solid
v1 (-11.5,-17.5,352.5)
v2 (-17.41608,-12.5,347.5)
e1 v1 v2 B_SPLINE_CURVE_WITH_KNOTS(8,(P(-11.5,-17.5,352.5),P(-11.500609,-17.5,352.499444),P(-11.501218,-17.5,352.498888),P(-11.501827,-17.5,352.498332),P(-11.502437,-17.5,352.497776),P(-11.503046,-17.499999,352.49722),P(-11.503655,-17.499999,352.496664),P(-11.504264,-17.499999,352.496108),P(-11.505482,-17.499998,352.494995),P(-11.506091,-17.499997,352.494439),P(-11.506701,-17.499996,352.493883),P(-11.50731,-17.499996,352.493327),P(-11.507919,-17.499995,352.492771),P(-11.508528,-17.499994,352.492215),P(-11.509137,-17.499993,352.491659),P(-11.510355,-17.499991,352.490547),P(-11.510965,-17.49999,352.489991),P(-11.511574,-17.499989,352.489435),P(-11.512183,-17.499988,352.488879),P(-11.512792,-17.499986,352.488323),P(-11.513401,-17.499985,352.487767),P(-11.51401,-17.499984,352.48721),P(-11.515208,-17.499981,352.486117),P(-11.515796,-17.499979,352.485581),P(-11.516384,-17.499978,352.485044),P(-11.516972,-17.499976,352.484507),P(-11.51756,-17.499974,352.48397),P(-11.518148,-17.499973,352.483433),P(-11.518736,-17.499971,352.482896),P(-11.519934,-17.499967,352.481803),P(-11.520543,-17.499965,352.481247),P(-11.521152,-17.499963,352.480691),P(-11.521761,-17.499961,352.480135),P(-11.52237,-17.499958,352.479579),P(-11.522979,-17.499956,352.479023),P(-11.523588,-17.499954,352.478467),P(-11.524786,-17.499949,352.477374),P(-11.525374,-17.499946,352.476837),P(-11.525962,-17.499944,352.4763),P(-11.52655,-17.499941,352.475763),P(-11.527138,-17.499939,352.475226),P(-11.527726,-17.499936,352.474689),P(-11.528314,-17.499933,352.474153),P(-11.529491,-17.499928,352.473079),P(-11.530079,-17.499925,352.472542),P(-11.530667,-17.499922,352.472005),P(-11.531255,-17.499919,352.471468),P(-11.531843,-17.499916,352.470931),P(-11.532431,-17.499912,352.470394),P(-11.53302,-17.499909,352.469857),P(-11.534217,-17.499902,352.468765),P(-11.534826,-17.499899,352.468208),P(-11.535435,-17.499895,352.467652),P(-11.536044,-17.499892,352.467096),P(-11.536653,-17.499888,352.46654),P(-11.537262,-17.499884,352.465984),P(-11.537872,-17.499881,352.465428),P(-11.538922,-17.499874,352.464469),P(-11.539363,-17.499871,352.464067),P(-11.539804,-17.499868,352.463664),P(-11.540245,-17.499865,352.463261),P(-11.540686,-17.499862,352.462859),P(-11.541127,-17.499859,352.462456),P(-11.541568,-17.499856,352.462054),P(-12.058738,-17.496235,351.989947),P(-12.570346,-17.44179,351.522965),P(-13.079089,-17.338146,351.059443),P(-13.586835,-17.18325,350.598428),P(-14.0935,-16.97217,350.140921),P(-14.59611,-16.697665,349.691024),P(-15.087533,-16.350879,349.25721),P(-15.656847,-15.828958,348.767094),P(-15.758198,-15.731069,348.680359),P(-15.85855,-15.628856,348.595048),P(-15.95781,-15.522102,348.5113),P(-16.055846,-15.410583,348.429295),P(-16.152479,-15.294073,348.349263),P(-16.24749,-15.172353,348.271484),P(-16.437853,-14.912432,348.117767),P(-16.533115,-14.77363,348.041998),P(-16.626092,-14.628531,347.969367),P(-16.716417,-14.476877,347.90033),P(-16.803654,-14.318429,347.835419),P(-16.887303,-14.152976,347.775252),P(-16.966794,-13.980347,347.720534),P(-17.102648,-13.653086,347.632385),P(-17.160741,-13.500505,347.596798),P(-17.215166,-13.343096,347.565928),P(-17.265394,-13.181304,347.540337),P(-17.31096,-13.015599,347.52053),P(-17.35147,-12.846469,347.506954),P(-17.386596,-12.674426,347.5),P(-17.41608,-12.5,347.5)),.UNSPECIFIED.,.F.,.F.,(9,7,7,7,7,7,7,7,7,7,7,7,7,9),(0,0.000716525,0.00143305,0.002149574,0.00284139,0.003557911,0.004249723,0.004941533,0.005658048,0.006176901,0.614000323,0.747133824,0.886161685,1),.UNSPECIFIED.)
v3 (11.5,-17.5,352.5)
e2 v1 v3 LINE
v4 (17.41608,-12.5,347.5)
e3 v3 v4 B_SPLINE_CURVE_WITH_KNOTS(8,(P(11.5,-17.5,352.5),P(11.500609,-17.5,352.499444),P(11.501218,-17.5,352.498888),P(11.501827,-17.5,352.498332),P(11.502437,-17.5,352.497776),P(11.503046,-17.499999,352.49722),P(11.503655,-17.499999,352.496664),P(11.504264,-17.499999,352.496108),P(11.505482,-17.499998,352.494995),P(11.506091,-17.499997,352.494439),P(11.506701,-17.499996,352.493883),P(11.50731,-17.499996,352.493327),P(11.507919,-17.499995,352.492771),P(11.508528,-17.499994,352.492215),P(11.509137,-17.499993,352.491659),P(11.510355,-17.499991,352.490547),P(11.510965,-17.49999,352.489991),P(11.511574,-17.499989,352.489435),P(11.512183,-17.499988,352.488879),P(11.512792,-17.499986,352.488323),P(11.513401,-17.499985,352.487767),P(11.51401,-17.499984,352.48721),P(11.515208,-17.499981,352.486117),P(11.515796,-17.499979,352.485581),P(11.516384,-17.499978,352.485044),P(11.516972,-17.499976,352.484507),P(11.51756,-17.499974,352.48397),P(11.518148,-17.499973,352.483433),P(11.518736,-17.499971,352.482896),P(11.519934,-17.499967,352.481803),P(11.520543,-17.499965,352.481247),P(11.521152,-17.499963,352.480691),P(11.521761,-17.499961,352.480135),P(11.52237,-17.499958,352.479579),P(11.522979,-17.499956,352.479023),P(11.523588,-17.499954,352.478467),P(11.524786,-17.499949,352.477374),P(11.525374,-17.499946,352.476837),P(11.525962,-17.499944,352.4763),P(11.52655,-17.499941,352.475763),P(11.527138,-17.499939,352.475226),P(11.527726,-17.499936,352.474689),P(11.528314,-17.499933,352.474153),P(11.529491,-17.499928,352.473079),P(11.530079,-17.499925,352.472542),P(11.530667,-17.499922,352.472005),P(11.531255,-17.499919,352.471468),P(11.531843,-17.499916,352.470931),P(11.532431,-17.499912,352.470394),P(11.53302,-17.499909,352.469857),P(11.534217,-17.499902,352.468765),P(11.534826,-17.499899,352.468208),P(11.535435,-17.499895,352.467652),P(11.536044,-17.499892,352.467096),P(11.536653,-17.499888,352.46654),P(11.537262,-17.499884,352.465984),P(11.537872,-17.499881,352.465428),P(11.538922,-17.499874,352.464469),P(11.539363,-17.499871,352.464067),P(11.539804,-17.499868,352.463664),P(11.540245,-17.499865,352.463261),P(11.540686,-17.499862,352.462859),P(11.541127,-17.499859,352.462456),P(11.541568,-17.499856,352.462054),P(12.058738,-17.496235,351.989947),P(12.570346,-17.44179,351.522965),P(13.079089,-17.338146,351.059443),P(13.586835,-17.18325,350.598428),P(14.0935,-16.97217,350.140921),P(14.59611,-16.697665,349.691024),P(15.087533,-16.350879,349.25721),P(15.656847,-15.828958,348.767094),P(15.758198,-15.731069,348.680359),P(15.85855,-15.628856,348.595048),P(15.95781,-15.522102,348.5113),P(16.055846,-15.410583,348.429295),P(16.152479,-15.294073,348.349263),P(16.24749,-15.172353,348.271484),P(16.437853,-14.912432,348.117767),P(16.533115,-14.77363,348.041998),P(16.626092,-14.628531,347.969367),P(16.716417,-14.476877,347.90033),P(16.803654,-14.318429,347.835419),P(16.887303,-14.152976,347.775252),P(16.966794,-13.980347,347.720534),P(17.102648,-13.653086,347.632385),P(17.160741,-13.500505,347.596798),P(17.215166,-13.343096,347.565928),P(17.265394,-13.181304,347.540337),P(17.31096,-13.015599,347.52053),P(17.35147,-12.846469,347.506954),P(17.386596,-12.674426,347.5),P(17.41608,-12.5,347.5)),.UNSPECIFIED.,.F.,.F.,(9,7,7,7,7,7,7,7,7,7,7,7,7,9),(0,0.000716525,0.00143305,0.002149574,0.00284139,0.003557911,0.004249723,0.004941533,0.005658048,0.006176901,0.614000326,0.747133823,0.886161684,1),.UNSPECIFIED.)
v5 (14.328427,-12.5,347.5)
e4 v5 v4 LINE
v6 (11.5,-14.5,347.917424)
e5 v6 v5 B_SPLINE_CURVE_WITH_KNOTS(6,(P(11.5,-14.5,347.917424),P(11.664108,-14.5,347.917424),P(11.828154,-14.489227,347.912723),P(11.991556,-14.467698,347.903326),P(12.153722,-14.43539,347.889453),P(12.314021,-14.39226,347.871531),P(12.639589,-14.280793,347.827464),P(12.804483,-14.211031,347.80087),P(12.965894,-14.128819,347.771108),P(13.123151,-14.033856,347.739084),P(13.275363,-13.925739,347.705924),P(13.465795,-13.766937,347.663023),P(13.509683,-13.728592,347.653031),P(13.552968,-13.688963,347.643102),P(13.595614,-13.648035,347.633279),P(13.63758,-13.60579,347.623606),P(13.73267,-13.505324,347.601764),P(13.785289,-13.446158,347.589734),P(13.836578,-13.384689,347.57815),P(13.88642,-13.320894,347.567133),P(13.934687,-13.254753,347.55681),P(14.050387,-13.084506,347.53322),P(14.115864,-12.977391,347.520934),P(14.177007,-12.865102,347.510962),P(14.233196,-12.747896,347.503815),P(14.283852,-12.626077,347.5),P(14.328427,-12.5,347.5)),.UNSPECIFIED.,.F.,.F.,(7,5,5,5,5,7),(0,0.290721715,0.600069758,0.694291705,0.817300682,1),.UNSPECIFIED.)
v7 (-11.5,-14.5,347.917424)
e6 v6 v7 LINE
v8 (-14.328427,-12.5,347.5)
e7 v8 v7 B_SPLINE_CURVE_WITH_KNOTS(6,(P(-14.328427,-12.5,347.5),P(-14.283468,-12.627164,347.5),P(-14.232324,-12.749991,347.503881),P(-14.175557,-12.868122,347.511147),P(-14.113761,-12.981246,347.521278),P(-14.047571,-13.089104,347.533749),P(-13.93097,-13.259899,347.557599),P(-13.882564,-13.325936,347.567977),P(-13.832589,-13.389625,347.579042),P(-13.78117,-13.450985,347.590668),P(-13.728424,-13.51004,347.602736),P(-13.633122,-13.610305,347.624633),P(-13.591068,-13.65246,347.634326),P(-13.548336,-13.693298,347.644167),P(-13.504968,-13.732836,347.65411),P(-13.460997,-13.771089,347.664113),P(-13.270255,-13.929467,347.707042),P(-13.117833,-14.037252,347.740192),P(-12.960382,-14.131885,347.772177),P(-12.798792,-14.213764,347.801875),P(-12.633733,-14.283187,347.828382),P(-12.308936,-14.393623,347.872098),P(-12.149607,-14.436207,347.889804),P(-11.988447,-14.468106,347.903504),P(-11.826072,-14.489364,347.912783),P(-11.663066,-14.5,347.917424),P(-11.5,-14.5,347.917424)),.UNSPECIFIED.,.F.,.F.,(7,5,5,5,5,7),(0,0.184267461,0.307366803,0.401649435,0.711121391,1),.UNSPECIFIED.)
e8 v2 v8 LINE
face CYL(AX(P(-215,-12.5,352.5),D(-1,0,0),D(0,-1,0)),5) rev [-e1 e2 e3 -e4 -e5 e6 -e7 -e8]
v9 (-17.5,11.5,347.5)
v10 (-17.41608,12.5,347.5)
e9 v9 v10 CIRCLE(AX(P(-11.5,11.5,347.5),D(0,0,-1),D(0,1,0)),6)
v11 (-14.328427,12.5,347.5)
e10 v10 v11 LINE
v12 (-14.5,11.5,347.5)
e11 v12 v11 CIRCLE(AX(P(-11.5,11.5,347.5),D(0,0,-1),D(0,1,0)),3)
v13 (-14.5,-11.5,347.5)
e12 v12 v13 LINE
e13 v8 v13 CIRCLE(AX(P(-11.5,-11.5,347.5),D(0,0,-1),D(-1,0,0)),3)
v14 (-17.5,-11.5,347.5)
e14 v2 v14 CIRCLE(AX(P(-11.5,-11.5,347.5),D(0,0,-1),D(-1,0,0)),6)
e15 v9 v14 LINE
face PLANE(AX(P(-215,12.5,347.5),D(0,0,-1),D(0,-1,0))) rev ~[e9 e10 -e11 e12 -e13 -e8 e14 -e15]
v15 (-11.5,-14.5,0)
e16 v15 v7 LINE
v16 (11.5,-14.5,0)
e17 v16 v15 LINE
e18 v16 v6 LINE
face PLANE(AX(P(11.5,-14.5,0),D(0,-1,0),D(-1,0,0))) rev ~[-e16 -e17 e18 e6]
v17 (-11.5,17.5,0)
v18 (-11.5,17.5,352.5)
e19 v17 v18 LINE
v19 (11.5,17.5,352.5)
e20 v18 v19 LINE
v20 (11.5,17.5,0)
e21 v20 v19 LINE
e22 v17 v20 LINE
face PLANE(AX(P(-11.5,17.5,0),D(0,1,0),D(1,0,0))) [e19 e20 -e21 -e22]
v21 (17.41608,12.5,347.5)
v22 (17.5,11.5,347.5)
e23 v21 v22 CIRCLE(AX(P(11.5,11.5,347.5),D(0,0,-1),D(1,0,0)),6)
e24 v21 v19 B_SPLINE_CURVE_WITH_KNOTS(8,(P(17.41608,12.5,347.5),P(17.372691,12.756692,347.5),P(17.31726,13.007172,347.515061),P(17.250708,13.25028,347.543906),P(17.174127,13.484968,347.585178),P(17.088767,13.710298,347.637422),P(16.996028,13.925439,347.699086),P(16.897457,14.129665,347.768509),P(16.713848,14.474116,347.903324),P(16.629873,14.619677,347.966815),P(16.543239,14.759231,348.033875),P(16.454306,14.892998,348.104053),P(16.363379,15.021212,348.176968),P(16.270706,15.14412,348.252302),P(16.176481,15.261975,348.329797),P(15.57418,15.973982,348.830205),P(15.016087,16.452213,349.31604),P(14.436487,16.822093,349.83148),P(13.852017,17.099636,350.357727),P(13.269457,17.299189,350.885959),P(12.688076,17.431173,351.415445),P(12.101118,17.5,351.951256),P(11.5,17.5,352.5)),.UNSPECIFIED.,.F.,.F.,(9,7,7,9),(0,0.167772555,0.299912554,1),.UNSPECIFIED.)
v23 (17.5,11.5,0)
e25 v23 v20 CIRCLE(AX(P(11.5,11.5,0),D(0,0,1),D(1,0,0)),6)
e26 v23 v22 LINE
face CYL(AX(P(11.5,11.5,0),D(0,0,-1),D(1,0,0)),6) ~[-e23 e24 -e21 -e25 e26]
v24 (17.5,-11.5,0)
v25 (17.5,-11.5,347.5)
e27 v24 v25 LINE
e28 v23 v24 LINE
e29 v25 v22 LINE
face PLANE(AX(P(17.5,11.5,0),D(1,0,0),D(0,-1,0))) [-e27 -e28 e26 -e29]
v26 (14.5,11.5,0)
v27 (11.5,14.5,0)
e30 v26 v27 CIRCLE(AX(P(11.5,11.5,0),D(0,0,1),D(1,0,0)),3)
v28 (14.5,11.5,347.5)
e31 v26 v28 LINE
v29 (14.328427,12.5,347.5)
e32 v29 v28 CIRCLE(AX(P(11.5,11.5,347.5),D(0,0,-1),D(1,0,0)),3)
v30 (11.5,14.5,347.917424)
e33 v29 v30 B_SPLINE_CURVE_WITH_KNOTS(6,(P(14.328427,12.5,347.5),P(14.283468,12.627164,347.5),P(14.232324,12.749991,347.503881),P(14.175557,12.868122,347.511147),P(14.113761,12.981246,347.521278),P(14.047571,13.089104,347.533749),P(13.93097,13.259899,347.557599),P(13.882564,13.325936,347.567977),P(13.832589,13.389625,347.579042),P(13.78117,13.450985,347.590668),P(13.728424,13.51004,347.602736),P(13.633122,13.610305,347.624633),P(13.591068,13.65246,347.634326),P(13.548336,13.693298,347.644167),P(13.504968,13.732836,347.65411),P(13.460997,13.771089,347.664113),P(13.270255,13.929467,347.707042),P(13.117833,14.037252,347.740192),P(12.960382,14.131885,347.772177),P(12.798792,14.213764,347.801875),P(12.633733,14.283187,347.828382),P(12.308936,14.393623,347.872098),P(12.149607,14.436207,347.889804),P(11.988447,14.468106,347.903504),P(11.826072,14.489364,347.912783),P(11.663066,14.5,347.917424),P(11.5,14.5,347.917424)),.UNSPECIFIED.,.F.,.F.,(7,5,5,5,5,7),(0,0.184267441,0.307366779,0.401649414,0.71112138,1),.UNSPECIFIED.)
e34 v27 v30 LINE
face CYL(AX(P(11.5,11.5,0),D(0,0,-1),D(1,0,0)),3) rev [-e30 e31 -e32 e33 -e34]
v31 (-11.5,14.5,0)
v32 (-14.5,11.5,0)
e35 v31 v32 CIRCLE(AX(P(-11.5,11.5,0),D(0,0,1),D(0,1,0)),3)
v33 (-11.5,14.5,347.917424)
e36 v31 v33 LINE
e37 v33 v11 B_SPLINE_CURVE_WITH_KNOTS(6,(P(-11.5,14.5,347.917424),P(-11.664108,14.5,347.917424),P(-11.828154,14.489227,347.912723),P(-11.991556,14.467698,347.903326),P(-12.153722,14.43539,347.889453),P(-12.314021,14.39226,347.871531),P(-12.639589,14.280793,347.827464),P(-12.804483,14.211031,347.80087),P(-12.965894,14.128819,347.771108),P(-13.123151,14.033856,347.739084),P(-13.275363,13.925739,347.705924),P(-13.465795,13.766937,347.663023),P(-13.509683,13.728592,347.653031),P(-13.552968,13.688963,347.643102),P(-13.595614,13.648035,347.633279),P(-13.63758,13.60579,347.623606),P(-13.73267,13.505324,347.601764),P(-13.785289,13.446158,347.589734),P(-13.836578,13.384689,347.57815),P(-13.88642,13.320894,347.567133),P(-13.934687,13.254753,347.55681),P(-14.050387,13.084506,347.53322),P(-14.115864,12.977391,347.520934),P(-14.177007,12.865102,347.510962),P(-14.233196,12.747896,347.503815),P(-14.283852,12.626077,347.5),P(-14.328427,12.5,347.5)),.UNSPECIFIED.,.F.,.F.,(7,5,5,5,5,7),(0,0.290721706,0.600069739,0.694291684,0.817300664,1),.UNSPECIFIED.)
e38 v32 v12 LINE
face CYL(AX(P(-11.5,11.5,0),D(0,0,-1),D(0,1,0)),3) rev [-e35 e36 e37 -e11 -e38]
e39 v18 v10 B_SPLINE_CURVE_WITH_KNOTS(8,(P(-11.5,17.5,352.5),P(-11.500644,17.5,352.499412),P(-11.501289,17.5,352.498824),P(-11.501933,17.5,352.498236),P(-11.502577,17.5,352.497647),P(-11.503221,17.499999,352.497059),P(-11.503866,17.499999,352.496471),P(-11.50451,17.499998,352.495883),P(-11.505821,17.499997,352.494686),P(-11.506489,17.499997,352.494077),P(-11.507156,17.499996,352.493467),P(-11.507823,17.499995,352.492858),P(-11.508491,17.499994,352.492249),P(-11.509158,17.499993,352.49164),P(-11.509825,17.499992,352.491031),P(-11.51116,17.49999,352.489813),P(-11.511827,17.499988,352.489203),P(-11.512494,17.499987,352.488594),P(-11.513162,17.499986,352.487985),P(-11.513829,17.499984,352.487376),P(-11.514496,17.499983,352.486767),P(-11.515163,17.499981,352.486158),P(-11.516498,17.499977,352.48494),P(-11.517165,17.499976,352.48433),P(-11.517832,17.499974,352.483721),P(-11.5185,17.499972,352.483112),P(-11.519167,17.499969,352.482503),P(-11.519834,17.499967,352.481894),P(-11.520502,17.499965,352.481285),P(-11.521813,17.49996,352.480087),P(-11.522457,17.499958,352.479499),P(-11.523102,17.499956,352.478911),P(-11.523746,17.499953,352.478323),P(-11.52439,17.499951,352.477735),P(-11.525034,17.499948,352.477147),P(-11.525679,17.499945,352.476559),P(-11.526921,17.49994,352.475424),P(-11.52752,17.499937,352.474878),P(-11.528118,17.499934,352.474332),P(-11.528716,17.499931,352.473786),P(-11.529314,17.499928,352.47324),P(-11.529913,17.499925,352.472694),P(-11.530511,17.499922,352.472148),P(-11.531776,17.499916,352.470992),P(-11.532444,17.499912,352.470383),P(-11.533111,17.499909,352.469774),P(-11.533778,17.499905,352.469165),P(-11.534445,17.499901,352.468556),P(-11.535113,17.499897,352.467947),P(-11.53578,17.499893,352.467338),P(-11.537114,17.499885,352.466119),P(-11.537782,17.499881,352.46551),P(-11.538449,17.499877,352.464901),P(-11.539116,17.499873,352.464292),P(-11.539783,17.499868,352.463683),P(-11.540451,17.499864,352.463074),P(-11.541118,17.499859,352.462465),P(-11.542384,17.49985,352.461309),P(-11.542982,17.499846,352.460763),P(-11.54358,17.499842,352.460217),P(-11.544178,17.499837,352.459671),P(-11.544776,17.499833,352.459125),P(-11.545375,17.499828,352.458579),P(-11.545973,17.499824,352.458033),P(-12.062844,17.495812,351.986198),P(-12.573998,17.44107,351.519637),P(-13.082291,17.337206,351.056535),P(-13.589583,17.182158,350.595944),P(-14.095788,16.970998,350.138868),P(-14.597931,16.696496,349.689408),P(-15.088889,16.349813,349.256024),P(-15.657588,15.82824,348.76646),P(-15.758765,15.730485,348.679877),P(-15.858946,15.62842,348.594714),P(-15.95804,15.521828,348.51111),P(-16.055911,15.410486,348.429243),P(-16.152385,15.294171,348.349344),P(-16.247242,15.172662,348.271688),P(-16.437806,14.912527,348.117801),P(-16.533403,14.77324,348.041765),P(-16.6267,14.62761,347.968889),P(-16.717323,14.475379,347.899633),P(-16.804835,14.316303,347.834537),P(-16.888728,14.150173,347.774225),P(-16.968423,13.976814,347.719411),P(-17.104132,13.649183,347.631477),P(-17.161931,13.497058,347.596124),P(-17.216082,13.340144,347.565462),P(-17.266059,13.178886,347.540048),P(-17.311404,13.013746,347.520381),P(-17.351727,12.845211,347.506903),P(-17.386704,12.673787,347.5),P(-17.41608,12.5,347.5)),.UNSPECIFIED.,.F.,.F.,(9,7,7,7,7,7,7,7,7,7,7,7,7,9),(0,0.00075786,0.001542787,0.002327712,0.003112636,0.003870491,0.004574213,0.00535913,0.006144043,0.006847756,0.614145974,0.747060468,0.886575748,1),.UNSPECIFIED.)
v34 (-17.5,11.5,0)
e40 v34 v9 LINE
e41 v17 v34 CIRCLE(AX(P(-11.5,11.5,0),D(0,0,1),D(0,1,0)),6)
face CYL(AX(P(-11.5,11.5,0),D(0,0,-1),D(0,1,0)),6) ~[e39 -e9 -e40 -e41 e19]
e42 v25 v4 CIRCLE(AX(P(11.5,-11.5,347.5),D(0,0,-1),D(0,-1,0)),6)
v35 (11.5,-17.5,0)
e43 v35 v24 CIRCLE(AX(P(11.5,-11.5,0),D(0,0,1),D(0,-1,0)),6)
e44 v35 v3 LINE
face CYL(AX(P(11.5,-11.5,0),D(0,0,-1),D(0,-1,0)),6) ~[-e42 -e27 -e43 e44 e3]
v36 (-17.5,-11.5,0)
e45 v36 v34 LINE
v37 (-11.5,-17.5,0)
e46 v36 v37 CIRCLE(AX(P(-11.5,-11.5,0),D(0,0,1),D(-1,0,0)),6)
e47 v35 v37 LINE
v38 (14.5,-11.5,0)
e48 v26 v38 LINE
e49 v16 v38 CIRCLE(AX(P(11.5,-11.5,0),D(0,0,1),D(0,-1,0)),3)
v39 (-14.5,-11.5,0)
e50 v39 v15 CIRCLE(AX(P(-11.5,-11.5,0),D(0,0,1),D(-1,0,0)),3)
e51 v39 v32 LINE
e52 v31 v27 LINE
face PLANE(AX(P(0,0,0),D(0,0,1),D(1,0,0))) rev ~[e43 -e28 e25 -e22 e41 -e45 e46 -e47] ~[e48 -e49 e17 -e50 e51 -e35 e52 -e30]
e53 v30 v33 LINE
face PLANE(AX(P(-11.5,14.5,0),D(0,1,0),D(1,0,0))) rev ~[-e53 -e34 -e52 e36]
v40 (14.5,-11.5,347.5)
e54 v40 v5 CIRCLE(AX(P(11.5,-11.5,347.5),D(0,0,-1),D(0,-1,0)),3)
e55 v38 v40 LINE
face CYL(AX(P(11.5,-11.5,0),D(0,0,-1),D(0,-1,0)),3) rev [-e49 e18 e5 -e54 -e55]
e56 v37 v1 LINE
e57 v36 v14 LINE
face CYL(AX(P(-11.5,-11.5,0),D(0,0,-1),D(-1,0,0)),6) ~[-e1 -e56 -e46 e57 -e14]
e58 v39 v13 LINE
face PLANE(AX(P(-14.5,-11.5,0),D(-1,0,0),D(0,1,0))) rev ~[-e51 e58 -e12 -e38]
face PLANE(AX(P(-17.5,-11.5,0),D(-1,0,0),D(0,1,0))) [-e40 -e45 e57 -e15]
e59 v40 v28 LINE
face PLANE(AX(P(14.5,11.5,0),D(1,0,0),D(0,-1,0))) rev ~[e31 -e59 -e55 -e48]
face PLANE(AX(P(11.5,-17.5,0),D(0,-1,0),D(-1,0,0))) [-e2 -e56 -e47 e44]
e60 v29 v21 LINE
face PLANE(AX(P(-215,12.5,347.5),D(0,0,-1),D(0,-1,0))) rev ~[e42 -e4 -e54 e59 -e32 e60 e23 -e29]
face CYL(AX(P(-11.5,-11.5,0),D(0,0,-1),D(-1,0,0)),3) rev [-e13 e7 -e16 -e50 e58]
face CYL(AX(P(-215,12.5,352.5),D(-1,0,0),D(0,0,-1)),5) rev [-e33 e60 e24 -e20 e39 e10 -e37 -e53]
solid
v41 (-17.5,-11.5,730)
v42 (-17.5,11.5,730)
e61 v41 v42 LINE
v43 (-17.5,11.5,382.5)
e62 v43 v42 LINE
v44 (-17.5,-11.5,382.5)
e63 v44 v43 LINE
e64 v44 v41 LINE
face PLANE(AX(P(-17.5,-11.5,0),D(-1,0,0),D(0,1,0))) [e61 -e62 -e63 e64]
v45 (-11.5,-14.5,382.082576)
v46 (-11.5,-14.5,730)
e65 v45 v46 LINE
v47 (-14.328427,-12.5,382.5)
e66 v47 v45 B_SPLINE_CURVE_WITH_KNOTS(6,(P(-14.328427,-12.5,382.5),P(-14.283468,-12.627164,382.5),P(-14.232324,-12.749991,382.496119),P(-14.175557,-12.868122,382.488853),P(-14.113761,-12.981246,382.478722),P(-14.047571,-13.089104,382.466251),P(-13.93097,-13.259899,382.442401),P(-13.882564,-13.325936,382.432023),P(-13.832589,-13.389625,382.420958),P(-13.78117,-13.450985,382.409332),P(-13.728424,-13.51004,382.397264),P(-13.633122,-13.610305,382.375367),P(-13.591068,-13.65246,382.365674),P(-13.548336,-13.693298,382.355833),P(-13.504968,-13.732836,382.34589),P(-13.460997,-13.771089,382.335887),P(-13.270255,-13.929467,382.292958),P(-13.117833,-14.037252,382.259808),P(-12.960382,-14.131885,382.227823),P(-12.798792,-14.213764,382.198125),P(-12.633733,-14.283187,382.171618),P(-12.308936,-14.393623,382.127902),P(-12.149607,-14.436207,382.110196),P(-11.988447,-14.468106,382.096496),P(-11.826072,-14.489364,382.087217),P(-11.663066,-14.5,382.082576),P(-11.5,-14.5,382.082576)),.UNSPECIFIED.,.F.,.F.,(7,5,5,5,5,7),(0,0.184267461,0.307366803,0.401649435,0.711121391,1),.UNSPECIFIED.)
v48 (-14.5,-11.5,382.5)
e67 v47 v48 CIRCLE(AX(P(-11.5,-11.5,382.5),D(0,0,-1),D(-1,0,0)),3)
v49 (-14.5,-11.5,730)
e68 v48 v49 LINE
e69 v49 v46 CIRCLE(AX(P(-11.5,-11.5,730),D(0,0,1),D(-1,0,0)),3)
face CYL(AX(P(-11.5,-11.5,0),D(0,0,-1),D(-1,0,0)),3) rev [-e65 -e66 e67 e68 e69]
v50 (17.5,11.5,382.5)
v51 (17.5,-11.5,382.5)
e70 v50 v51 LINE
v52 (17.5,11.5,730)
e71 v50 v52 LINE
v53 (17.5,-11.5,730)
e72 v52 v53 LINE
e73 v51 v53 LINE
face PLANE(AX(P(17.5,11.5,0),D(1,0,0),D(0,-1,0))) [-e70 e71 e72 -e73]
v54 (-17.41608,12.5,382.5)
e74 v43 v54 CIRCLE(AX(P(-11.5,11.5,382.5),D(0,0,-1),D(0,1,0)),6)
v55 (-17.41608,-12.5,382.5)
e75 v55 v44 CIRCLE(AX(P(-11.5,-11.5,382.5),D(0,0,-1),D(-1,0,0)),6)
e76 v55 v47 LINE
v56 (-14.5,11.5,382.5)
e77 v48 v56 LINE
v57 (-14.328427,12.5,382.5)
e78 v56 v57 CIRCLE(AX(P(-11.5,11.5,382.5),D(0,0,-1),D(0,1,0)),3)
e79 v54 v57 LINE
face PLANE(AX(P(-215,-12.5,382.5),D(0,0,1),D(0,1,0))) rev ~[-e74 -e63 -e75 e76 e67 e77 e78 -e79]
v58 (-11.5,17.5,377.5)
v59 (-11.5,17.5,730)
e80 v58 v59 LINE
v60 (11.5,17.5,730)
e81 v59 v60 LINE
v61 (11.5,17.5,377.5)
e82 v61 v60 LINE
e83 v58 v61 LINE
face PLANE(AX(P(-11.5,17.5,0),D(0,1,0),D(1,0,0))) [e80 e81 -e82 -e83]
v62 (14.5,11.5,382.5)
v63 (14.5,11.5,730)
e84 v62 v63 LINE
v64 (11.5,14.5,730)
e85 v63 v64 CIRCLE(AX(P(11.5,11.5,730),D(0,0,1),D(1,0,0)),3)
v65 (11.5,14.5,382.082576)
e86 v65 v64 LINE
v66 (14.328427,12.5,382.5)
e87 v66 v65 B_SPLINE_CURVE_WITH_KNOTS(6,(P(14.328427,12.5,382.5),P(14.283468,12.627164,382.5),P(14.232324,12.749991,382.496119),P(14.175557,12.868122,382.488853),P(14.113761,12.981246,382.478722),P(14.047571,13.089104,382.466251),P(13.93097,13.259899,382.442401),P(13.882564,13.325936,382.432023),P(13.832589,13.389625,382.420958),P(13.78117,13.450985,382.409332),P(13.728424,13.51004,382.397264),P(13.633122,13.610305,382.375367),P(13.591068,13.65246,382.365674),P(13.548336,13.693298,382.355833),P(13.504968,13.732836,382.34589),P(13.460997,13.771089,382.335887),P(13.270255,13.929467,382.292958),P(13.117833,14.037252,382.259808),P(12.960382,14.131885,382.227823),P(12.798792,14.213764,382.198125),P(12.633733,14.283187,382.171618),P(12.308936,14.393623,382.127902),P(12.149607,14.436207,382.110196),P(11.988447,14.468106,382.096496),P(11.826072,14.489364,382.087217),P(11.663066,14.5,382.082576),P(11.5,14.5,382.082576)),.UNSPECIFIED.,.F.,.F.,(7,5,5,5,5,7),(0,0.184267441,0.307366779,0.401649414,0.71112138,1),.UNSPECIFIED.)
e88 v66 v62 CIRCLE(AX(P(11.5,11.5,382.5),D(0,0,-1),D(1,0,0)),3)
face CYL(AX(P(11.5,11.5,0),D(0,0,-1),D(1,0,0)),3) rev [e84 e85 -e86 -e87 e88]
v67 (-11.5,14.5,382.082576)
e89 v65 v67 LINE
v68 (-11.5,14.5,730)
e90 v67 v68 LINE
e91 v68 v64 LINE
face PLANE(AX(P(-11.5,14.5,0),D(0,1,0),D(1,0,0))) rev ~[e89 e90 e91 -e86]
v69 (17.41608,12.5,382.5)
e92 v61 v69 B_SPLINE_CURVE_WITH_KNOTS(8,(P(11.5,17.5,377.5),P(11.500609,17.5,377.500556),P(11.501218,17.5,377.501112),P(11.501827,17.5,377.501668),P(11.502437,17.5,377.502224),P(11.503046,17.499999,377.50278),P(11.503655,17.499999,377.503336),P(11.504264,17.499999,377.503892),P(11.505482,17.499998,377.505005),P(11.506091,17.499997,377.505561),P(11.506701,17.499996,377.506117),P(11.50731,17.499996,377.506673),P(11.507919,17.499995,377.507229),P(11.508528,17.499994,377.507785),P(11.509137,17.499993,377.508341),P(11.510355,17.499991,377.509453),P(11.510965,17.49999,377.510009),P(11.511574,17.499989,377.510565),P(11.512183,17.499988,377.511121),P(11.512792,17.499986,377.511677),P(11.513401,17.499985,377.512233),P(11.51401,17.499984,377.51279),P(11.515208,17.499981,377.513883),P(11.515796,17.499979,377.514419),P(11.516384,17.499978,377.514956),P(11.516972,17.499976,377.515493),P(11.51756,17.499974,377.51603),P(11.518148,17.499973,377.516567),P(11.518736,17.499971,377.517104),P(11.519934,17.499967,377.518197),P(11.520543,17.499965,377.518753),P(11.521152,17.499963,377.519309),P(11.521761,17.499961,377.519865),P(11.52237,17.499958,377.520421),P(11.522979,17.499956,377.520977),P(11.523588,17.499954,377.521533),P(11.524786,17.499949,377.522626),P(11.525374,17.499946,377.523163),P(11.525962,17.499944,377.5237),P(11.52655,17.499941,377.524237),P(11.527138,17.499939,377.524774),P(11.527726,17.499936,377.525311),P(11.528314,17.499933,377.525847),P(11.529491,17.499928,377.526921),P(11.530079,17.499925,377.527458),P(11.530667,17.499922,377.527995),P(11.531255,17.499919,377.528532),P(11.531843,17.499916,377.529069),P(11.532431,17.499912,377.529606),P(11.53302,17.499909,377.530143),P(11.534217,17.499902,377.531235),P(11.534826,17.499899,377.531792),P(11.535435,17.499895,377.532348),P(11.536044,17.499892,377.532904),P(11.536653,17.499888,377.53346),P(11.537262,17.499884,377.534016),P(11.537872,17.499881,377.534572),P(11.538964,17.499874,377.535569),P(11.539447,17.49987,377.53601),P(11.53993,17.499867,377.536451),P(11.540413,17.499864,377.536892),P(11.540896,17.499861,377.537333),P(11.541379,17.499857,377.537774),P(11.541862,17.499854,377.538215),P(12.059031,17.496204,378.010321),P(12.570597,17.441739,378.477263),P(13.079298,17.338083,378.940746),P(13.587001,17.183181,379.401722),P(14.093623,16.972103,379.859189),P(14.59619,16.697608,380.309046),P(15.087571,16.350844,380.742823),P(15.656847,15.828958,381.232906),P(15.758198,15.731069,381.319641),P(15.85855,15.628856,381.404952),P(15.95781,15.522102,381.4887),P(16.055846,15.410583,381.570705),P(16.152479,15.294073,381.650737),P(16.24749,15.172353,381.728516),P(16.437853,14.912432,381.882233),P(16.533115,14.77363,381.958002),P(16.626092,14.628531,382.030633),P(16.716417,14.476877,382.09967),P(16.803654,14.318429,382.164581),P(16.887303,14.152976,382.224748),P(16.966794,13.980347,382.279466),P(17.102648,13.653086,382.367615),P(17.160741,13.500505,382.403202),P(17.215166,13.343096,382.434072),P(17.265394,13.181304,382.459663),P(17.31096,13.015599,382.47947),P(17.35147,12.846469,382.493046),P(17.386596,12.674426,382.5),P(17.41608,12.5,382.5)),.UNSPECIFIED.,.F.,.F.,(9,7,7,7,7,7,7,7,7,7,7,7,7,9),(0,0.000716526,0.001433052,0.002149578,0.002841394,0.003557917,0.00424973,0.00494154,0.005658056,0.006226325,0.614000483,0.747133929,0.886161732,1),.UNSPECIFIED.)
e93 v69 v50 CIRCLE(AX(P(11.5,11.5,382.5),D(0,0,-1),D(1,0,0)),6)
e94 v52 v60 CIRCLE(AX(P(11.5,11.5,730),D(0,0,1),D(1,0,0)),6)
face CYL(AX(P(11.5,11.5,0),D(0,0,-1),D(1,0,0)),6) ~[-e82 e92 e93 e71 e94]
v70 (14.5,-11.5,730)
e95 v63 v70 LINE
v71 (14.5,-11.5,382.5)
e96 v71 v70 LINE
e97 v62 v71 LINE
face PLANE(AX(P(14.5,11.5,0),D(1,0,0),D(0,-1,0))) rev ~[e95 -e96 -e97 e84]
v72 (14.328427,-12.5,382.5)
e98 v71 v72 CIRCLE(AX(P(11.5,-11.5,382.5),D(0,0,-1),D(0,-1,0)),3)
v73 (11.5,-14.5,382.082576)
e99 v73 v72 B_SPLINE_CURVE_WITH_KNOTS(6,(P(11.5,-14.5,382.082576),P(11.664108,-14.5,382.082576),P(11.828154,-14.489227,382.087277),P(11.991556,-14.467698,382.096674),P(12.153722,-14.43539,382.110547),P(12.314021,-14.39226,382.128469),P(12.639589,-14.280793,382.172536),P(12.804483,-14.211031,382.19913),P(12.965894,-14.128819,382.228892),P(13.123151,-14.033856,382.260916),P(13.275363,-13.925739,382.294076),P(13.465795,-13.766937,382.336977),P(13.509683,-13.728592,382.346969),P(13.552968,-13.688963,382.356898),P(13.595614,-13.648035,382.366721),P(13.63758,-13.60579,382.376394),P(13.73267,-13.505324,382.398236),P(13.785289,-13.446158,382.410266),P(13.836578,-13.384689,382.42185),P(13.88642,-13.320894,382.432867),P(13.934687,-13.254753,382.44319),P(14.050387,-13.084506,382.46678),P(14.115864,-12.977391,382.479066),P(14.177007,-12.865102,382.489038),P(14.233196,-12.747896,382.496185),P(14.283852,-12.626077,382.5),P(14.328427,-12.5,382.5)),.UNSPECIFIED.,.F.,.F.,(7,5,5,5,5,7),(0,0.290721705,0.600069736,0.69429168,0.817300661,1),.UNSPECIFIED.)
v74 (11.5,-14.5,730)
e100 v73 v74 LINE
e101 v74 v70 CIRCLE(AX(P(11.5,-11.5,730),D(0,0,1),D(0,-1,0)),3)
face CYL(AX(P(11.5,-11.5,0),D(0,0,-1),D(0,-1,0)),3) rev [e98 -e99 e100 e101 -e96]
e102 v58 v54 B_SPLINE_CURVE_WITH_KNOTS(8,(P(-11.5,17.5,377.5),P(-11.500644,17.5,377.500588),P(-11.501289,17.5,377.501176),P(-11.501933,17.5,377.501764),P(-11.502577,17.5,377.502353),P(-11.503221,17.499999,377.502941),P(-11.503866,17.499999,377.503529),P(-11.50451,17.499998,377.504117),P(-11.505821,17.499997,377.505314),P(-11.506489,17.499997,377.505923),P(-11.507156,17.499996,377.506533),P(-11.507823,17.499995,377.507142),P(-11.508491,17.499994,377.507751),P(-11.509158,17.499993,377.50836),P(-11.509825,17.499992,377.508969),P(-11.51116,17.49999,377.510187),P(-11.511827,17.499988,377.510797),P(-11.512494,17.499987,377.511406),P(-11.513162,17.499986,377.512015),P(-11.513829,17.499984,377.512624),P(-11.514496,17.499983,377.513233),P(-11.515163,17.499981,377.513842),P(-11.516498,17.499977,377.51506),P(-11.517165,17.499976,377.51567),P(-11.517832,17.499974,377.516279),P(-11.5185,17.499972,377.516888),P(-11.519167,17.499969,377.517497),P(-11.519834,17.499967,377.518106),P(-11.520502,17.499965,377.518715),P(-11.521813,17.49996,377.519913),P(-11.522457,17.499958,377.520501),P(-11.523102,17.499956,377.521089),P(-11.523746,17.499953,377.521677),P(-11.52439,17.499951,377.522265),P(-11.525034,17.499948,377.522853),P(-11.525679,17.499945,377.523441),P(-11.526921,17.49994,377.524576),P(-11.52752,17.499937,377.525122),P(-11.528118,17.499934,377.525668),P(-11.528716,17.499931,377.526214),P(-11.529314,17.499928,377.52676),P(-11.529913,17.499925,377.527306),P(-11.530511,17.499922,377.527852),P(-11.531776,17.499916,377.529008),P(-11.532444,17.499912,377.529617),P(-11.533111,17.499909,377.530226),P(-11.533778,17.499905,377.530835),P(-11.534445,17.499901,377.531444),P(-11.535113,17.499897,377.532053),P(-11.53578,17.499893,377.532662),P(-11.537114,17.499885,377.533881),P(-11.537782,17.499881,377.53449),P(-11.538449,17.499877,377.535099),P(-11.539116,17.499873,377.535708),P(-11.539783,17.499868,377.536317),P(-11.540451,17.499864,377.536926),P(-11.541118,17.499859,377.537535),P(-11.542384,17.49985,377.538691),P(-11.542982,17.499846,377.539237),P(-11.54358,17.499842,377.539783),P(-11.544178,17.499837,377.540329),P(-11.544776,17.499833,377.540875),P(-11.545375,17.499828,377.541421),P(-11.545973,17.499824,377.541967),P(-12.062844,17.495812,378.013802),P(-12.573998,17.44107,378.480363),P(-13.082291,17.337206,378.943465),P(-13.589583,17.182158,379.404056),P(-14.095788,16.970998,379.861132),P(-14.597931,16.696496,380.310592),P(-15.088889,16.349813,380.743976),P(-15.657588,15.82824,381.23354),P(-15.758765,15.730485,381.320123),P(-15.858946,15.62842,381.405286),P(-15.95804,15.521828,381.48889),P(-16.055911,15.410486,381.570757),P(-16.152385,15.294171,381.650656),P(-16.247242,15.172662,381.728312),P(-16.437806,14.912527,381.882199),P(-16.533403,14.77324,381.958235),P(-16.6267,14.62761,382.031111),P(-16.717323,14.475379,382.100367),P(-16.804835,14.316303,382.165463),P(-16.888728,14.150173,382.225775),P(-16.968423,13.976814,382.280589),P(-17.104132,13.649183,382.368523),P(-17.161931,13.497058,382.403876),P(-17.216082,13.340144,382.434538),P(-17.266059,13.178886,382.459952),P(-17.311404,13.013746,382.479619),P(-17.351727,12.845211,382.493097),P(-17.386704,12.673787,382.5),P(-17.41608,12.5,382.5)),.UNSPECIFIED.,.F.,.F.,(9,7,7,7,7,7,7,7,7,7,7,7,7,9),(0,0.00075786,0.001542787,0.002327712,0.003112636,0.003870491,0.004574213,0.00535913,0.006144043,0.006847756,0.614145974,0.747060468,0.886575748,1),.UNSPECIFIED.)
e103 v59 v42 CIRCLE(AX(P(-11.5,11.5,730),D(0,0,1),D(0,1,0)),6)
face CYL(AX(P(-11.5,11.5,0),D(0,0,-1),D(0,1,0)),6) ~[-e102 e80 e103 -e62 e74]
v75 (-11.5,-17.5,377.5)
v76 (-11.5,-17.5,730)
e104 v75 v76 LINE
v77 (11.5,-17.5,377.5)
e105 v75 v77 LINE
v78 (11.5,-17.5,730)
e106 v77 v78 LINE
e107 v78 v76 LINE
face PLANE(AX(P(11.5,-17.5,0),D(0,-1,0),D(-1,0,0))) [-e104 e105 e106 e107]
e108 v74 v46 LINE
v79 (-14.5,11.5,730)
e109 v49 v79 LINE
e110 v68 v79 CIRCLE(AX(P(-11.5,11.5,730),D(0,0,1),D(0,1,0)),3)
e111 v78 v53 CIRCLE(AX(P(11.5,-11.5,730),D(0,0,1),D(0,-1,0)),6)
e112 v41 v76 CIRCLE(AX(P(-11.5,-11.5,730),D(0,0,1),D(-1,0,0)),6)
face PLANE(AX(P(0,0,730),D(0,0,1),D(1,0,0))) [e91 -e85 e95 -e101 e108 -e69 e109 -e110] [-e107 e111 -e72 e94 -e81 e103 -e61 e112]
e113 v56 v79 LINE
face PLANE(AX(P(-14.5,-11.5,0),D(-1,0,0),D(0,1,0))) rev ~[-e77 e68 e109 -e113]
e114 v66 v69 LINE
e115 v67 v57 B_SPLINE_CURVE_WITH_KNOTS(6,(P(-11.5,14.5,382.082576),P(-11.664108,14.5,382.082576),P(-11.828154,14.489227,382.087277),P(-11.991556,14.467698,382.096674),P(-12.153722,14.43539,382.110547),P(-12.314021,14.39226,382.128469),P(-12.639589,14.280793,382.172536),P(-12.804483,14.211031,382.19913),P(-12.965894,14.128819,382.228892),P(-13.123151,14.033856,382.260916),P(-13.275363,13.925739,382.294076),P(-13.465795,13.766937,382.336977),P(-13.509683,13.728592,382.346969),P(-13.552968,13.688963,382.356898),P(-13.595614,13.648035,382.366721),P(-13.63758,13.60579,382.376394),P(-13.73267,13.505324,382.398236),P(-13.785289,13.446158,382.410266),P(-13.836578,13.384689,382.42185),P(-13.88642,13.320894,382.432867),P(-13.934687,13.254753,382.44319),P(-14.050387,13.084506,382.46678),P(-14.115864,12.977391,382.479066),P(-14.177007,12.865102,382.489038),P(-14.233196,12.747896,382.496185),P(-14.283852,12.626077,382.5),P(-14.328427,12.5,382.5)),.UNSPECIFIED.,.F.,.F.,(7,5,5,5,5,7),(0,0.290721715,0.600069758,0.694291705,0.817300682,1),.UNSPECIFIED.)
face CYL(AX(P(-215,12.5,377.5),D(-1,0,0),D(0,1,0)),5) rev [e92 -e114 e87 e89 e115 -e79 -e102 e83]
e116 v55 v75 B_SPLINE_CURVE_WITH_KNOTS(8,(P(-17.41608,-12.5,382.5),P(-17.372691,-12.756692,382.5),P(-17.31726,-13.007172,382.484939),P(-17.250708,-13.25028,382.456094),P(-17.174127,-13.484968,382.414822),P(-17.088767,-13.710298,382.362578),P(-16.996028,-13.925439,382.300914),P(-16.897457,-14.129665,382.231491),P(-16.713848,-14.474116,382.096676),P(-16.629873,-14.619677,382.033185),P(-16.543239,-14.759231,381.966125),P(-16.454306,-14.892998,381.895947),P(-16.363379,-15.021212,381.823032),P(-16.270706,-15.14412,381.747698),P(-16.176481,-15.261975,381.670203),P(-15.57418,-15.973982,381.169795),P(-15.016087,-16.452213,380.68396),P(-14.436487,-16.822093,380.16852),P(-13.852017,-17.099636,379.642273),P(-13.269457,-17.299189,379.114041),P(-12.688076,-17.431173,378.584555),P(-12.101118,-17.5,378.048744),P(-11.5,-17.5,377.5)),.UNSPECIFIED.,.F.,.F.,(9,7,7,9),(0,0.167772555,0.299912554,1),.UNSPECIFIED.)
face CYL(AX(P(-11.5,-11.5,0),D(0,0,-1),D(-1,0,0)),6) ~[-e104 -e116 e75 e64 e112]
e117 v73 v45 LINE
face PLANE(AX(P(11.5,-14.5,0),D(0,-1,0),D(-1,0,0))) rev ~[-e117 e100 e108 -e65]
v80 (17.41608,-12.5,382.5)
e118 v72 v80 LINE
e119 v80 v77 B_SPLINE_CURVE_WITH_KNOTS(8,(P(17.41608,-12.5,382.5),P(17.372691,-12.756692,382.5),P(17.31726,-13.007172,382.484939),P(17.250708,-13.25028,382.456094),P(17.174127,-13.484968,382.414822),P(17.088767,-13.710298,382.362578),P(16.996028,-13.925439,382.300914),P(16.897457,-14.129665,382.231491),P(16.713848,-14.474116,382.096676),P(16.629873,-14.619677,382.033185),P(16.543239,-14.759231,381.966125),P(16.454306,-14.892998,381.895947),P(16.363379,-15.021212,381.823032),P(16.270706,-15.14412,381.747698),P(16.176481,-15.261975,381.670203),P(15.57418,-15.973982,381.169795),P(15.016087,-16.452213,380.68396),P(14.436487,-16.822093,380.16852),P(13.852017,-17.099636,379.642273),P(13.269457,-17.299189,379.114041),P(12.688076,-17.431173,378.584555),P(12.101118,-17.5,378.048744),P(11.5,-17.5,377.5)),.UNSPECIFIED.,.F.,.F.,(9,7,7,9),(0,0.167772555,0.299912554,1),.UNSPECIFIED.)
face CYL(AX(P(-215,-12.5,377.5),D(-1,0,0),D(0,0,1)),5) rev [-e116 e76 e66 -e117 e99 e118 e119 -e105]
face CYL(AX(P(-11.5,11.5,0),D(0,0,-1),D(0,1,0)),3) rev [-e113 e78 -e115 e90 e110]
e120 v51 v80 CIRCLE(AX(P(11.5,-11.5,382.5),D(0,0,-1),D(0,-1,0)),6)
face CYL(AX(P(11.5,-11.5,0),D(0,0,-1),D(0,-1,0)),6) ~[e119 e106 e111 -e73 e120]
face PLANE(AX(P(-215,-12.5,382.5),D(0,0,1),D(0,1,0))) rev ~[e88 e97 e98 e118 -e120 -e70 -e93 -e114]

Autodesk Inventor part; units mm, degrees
ref_plane "Start plane" through (0, 0, 0) normal (0, 0, 1) x (1, 0, 0)
ref_plane "End plane" through (0, 0, 730) normal (0, 0, 1) x (1, 0, 0)
sketch "Sketch" plane through (0, 0, 0) normal (0, 0, 1) x (1, 0, 0)
  line L0 (-17.5, -11.5) -> (-17.5, 11.5)
  line L1 (-11.5, 17.5) -> (11.5, 17.5)
  line L2 (17.5, 11.5) -> (17.5, -11.5)
  line L3 (11.5, -17.5) -> (-11.5, -17.5)
  arc A0 (-17.5, -11.5) -> (-11.5, -17.5) centre (-11.5, -11.5) ccw
  arc A1 (-11.5, 17.5) -> (-17.5, 11.5) centre (-11.5, 11.5) ccw
  arc A2 (17.5, 11.5) -> (11.5, 17.5) centre (11.5, 11.5) ccw
  arc A3 (11.5, -17.5) -> (17.5, -11.5) centre (11.5, -11.5) ccw
  arc A4 (-11.5, 14.5) -> (-14.5, 11.5) centre (-11.5, 11.5) ccw
  line L4 (-11.5, 14.5) -> (11.5, 14.5)
  arc A5 (14.5, 11.5) -> (11.5, 14.5) centre (11.5, 11.5) ccw
  line L5 (14.5, 11.5) -> (14.5, -11.5)
  arc A6 (11.5, -14.5) -> (14.5, -11.5) centre (11.5, -11.5) ccw
  line L6 (11.5, -14.5) -> (-11.5, -14.5)
  arc A7 (-14.5, -11.5) -> (-11.5, -14.5) centre (-11.5, -11.5) ccw
  line L7 (-14.5, -11.5) -> (-14.5, 11.5)
  line L8 (0, 25.4278) -> (0, -25.4278) construction
  line L9 (-25.4278, 0) -> (25.4278, 0) construction
  dimension "d7" = 6
  dimension "d10" = 35
  dimension "d11" = 35
  dimension "d12" = 3
  dimension "d15" = 17.5
  dimension "d16" = 17.5
extrude "Body" add sketch "Sketch" along normal up to surface (730 mm away) from surface at 0
sketch "Sketch3" plane through (0, 0, 0) normal (0, 0, 1) x (1, 0, 0)
  line L0 (0, 0) -> (10, 0)
ref_plane "Work Plane3" through (0, 0, 0) normal (0, -1, 0) x (1, 0, 0)
sketch "Sketch4" plane through (0, 0, 0) normal (0, -1, 0) x (1, 0, 0)
  line L0 (-2, 0) -> (12, 0)
  line L1 (-2, 730) -> (12, 730)
  dimension "d18" = 730
ref_plane "Work Plane4" through (-215, 0, 365) normal (1, 0, 0) x (0, 0, -1)
ref_plane "Work Plane5" through (215, 0, 365) normal (1, 0, 0) x (0, 0, -1)
ref_plane "Work Plane6" through (0, 0, 365) normal (1, 0, 0) x (0, 0, -1)
sketch "Sketch5" plane through (0, 0, 365) normal (1, 0, 0) x (0, 0, -1)
  arc A0 (-17.5, -12.5) -> (-12.5, -17.5) centre (-12.5, -12.5) ccw
  line L0 (-17.5, -12.5) -> (-17.5, 12.5)
  arc A1 (-12.5, 17.5) -> (-17.5, 12.5) centre (-12.5, 12.5) ccw
  line L1 (-12.5, 17.5) -> (12.5, 17.5)
  arc A2 (17.5, 12.5) -> (12.5, 17.5) centre (12.5, 12.5) ccw
  line L2 (17.5, 12.5) -> (17.5, -12.5)
  arc A3 (12.5, -17.5) -> (17.5, -12.5) centre (12.5, -12.5) ccw
  line L3 (12.5, -17.5) -> (-12.5, -17.5)
  arc A4 (-12.5, 15) -> (-15, 12.5) centre (-12.5, 12.5) ccw
  line L4 (-12.5, 15) -> (12.5, 15)
  arc A5 (15, 12.5) -> (12.5, 15) centre (12.5, 12.5) ccw
  line L5 (15, 12.5) -> (15, -12.5)
  arc A6 (12.5, -15) -> (15, -12.5) centre (12.5, -12.5) ccw
  line L6 (12.5, -15) -> (-12.5, -15)
  arc A7 (-15, -12.5) -> (-12.5, -15) centre (-12.5, -12.5) ccw
  line L7 (-15, -12.5) -> (-15, 12.5)
extrude "Extrusion2" cut sketch "Sketch5" along normal up to surface (430 mm away) from surface at -215 contours L0 A1 L1 A2 L2 A3 L3 A0 | L4 A5 L5 A6 L6 A7 L7 A4
equation "\"d7\" = G_IR"
equation "\"d10\" = G_H"
equation "\"d11\" = G_W"
equation "\"d12\" = G_T"
equation "\"d15\" = 0.5 * d10"
equation "\"d16\" = 0.5 * d11"
equation "\"d3\" = G_L"
equation "\"G_W\" = 35"
equation "\"G_H\" = 35"
equation "\"G_T\" = 3"
equation "\"G_IR\" = 6"
equation "\"G_L\" = d18"
equation "\"G_OFFSET_START\" = 0"
equation "\"G_OFFSET_END\" = 0"
properties part number "AS 1163 - C350L0 35x35x3.0 SHS - 730" material "Steel, Mild"
